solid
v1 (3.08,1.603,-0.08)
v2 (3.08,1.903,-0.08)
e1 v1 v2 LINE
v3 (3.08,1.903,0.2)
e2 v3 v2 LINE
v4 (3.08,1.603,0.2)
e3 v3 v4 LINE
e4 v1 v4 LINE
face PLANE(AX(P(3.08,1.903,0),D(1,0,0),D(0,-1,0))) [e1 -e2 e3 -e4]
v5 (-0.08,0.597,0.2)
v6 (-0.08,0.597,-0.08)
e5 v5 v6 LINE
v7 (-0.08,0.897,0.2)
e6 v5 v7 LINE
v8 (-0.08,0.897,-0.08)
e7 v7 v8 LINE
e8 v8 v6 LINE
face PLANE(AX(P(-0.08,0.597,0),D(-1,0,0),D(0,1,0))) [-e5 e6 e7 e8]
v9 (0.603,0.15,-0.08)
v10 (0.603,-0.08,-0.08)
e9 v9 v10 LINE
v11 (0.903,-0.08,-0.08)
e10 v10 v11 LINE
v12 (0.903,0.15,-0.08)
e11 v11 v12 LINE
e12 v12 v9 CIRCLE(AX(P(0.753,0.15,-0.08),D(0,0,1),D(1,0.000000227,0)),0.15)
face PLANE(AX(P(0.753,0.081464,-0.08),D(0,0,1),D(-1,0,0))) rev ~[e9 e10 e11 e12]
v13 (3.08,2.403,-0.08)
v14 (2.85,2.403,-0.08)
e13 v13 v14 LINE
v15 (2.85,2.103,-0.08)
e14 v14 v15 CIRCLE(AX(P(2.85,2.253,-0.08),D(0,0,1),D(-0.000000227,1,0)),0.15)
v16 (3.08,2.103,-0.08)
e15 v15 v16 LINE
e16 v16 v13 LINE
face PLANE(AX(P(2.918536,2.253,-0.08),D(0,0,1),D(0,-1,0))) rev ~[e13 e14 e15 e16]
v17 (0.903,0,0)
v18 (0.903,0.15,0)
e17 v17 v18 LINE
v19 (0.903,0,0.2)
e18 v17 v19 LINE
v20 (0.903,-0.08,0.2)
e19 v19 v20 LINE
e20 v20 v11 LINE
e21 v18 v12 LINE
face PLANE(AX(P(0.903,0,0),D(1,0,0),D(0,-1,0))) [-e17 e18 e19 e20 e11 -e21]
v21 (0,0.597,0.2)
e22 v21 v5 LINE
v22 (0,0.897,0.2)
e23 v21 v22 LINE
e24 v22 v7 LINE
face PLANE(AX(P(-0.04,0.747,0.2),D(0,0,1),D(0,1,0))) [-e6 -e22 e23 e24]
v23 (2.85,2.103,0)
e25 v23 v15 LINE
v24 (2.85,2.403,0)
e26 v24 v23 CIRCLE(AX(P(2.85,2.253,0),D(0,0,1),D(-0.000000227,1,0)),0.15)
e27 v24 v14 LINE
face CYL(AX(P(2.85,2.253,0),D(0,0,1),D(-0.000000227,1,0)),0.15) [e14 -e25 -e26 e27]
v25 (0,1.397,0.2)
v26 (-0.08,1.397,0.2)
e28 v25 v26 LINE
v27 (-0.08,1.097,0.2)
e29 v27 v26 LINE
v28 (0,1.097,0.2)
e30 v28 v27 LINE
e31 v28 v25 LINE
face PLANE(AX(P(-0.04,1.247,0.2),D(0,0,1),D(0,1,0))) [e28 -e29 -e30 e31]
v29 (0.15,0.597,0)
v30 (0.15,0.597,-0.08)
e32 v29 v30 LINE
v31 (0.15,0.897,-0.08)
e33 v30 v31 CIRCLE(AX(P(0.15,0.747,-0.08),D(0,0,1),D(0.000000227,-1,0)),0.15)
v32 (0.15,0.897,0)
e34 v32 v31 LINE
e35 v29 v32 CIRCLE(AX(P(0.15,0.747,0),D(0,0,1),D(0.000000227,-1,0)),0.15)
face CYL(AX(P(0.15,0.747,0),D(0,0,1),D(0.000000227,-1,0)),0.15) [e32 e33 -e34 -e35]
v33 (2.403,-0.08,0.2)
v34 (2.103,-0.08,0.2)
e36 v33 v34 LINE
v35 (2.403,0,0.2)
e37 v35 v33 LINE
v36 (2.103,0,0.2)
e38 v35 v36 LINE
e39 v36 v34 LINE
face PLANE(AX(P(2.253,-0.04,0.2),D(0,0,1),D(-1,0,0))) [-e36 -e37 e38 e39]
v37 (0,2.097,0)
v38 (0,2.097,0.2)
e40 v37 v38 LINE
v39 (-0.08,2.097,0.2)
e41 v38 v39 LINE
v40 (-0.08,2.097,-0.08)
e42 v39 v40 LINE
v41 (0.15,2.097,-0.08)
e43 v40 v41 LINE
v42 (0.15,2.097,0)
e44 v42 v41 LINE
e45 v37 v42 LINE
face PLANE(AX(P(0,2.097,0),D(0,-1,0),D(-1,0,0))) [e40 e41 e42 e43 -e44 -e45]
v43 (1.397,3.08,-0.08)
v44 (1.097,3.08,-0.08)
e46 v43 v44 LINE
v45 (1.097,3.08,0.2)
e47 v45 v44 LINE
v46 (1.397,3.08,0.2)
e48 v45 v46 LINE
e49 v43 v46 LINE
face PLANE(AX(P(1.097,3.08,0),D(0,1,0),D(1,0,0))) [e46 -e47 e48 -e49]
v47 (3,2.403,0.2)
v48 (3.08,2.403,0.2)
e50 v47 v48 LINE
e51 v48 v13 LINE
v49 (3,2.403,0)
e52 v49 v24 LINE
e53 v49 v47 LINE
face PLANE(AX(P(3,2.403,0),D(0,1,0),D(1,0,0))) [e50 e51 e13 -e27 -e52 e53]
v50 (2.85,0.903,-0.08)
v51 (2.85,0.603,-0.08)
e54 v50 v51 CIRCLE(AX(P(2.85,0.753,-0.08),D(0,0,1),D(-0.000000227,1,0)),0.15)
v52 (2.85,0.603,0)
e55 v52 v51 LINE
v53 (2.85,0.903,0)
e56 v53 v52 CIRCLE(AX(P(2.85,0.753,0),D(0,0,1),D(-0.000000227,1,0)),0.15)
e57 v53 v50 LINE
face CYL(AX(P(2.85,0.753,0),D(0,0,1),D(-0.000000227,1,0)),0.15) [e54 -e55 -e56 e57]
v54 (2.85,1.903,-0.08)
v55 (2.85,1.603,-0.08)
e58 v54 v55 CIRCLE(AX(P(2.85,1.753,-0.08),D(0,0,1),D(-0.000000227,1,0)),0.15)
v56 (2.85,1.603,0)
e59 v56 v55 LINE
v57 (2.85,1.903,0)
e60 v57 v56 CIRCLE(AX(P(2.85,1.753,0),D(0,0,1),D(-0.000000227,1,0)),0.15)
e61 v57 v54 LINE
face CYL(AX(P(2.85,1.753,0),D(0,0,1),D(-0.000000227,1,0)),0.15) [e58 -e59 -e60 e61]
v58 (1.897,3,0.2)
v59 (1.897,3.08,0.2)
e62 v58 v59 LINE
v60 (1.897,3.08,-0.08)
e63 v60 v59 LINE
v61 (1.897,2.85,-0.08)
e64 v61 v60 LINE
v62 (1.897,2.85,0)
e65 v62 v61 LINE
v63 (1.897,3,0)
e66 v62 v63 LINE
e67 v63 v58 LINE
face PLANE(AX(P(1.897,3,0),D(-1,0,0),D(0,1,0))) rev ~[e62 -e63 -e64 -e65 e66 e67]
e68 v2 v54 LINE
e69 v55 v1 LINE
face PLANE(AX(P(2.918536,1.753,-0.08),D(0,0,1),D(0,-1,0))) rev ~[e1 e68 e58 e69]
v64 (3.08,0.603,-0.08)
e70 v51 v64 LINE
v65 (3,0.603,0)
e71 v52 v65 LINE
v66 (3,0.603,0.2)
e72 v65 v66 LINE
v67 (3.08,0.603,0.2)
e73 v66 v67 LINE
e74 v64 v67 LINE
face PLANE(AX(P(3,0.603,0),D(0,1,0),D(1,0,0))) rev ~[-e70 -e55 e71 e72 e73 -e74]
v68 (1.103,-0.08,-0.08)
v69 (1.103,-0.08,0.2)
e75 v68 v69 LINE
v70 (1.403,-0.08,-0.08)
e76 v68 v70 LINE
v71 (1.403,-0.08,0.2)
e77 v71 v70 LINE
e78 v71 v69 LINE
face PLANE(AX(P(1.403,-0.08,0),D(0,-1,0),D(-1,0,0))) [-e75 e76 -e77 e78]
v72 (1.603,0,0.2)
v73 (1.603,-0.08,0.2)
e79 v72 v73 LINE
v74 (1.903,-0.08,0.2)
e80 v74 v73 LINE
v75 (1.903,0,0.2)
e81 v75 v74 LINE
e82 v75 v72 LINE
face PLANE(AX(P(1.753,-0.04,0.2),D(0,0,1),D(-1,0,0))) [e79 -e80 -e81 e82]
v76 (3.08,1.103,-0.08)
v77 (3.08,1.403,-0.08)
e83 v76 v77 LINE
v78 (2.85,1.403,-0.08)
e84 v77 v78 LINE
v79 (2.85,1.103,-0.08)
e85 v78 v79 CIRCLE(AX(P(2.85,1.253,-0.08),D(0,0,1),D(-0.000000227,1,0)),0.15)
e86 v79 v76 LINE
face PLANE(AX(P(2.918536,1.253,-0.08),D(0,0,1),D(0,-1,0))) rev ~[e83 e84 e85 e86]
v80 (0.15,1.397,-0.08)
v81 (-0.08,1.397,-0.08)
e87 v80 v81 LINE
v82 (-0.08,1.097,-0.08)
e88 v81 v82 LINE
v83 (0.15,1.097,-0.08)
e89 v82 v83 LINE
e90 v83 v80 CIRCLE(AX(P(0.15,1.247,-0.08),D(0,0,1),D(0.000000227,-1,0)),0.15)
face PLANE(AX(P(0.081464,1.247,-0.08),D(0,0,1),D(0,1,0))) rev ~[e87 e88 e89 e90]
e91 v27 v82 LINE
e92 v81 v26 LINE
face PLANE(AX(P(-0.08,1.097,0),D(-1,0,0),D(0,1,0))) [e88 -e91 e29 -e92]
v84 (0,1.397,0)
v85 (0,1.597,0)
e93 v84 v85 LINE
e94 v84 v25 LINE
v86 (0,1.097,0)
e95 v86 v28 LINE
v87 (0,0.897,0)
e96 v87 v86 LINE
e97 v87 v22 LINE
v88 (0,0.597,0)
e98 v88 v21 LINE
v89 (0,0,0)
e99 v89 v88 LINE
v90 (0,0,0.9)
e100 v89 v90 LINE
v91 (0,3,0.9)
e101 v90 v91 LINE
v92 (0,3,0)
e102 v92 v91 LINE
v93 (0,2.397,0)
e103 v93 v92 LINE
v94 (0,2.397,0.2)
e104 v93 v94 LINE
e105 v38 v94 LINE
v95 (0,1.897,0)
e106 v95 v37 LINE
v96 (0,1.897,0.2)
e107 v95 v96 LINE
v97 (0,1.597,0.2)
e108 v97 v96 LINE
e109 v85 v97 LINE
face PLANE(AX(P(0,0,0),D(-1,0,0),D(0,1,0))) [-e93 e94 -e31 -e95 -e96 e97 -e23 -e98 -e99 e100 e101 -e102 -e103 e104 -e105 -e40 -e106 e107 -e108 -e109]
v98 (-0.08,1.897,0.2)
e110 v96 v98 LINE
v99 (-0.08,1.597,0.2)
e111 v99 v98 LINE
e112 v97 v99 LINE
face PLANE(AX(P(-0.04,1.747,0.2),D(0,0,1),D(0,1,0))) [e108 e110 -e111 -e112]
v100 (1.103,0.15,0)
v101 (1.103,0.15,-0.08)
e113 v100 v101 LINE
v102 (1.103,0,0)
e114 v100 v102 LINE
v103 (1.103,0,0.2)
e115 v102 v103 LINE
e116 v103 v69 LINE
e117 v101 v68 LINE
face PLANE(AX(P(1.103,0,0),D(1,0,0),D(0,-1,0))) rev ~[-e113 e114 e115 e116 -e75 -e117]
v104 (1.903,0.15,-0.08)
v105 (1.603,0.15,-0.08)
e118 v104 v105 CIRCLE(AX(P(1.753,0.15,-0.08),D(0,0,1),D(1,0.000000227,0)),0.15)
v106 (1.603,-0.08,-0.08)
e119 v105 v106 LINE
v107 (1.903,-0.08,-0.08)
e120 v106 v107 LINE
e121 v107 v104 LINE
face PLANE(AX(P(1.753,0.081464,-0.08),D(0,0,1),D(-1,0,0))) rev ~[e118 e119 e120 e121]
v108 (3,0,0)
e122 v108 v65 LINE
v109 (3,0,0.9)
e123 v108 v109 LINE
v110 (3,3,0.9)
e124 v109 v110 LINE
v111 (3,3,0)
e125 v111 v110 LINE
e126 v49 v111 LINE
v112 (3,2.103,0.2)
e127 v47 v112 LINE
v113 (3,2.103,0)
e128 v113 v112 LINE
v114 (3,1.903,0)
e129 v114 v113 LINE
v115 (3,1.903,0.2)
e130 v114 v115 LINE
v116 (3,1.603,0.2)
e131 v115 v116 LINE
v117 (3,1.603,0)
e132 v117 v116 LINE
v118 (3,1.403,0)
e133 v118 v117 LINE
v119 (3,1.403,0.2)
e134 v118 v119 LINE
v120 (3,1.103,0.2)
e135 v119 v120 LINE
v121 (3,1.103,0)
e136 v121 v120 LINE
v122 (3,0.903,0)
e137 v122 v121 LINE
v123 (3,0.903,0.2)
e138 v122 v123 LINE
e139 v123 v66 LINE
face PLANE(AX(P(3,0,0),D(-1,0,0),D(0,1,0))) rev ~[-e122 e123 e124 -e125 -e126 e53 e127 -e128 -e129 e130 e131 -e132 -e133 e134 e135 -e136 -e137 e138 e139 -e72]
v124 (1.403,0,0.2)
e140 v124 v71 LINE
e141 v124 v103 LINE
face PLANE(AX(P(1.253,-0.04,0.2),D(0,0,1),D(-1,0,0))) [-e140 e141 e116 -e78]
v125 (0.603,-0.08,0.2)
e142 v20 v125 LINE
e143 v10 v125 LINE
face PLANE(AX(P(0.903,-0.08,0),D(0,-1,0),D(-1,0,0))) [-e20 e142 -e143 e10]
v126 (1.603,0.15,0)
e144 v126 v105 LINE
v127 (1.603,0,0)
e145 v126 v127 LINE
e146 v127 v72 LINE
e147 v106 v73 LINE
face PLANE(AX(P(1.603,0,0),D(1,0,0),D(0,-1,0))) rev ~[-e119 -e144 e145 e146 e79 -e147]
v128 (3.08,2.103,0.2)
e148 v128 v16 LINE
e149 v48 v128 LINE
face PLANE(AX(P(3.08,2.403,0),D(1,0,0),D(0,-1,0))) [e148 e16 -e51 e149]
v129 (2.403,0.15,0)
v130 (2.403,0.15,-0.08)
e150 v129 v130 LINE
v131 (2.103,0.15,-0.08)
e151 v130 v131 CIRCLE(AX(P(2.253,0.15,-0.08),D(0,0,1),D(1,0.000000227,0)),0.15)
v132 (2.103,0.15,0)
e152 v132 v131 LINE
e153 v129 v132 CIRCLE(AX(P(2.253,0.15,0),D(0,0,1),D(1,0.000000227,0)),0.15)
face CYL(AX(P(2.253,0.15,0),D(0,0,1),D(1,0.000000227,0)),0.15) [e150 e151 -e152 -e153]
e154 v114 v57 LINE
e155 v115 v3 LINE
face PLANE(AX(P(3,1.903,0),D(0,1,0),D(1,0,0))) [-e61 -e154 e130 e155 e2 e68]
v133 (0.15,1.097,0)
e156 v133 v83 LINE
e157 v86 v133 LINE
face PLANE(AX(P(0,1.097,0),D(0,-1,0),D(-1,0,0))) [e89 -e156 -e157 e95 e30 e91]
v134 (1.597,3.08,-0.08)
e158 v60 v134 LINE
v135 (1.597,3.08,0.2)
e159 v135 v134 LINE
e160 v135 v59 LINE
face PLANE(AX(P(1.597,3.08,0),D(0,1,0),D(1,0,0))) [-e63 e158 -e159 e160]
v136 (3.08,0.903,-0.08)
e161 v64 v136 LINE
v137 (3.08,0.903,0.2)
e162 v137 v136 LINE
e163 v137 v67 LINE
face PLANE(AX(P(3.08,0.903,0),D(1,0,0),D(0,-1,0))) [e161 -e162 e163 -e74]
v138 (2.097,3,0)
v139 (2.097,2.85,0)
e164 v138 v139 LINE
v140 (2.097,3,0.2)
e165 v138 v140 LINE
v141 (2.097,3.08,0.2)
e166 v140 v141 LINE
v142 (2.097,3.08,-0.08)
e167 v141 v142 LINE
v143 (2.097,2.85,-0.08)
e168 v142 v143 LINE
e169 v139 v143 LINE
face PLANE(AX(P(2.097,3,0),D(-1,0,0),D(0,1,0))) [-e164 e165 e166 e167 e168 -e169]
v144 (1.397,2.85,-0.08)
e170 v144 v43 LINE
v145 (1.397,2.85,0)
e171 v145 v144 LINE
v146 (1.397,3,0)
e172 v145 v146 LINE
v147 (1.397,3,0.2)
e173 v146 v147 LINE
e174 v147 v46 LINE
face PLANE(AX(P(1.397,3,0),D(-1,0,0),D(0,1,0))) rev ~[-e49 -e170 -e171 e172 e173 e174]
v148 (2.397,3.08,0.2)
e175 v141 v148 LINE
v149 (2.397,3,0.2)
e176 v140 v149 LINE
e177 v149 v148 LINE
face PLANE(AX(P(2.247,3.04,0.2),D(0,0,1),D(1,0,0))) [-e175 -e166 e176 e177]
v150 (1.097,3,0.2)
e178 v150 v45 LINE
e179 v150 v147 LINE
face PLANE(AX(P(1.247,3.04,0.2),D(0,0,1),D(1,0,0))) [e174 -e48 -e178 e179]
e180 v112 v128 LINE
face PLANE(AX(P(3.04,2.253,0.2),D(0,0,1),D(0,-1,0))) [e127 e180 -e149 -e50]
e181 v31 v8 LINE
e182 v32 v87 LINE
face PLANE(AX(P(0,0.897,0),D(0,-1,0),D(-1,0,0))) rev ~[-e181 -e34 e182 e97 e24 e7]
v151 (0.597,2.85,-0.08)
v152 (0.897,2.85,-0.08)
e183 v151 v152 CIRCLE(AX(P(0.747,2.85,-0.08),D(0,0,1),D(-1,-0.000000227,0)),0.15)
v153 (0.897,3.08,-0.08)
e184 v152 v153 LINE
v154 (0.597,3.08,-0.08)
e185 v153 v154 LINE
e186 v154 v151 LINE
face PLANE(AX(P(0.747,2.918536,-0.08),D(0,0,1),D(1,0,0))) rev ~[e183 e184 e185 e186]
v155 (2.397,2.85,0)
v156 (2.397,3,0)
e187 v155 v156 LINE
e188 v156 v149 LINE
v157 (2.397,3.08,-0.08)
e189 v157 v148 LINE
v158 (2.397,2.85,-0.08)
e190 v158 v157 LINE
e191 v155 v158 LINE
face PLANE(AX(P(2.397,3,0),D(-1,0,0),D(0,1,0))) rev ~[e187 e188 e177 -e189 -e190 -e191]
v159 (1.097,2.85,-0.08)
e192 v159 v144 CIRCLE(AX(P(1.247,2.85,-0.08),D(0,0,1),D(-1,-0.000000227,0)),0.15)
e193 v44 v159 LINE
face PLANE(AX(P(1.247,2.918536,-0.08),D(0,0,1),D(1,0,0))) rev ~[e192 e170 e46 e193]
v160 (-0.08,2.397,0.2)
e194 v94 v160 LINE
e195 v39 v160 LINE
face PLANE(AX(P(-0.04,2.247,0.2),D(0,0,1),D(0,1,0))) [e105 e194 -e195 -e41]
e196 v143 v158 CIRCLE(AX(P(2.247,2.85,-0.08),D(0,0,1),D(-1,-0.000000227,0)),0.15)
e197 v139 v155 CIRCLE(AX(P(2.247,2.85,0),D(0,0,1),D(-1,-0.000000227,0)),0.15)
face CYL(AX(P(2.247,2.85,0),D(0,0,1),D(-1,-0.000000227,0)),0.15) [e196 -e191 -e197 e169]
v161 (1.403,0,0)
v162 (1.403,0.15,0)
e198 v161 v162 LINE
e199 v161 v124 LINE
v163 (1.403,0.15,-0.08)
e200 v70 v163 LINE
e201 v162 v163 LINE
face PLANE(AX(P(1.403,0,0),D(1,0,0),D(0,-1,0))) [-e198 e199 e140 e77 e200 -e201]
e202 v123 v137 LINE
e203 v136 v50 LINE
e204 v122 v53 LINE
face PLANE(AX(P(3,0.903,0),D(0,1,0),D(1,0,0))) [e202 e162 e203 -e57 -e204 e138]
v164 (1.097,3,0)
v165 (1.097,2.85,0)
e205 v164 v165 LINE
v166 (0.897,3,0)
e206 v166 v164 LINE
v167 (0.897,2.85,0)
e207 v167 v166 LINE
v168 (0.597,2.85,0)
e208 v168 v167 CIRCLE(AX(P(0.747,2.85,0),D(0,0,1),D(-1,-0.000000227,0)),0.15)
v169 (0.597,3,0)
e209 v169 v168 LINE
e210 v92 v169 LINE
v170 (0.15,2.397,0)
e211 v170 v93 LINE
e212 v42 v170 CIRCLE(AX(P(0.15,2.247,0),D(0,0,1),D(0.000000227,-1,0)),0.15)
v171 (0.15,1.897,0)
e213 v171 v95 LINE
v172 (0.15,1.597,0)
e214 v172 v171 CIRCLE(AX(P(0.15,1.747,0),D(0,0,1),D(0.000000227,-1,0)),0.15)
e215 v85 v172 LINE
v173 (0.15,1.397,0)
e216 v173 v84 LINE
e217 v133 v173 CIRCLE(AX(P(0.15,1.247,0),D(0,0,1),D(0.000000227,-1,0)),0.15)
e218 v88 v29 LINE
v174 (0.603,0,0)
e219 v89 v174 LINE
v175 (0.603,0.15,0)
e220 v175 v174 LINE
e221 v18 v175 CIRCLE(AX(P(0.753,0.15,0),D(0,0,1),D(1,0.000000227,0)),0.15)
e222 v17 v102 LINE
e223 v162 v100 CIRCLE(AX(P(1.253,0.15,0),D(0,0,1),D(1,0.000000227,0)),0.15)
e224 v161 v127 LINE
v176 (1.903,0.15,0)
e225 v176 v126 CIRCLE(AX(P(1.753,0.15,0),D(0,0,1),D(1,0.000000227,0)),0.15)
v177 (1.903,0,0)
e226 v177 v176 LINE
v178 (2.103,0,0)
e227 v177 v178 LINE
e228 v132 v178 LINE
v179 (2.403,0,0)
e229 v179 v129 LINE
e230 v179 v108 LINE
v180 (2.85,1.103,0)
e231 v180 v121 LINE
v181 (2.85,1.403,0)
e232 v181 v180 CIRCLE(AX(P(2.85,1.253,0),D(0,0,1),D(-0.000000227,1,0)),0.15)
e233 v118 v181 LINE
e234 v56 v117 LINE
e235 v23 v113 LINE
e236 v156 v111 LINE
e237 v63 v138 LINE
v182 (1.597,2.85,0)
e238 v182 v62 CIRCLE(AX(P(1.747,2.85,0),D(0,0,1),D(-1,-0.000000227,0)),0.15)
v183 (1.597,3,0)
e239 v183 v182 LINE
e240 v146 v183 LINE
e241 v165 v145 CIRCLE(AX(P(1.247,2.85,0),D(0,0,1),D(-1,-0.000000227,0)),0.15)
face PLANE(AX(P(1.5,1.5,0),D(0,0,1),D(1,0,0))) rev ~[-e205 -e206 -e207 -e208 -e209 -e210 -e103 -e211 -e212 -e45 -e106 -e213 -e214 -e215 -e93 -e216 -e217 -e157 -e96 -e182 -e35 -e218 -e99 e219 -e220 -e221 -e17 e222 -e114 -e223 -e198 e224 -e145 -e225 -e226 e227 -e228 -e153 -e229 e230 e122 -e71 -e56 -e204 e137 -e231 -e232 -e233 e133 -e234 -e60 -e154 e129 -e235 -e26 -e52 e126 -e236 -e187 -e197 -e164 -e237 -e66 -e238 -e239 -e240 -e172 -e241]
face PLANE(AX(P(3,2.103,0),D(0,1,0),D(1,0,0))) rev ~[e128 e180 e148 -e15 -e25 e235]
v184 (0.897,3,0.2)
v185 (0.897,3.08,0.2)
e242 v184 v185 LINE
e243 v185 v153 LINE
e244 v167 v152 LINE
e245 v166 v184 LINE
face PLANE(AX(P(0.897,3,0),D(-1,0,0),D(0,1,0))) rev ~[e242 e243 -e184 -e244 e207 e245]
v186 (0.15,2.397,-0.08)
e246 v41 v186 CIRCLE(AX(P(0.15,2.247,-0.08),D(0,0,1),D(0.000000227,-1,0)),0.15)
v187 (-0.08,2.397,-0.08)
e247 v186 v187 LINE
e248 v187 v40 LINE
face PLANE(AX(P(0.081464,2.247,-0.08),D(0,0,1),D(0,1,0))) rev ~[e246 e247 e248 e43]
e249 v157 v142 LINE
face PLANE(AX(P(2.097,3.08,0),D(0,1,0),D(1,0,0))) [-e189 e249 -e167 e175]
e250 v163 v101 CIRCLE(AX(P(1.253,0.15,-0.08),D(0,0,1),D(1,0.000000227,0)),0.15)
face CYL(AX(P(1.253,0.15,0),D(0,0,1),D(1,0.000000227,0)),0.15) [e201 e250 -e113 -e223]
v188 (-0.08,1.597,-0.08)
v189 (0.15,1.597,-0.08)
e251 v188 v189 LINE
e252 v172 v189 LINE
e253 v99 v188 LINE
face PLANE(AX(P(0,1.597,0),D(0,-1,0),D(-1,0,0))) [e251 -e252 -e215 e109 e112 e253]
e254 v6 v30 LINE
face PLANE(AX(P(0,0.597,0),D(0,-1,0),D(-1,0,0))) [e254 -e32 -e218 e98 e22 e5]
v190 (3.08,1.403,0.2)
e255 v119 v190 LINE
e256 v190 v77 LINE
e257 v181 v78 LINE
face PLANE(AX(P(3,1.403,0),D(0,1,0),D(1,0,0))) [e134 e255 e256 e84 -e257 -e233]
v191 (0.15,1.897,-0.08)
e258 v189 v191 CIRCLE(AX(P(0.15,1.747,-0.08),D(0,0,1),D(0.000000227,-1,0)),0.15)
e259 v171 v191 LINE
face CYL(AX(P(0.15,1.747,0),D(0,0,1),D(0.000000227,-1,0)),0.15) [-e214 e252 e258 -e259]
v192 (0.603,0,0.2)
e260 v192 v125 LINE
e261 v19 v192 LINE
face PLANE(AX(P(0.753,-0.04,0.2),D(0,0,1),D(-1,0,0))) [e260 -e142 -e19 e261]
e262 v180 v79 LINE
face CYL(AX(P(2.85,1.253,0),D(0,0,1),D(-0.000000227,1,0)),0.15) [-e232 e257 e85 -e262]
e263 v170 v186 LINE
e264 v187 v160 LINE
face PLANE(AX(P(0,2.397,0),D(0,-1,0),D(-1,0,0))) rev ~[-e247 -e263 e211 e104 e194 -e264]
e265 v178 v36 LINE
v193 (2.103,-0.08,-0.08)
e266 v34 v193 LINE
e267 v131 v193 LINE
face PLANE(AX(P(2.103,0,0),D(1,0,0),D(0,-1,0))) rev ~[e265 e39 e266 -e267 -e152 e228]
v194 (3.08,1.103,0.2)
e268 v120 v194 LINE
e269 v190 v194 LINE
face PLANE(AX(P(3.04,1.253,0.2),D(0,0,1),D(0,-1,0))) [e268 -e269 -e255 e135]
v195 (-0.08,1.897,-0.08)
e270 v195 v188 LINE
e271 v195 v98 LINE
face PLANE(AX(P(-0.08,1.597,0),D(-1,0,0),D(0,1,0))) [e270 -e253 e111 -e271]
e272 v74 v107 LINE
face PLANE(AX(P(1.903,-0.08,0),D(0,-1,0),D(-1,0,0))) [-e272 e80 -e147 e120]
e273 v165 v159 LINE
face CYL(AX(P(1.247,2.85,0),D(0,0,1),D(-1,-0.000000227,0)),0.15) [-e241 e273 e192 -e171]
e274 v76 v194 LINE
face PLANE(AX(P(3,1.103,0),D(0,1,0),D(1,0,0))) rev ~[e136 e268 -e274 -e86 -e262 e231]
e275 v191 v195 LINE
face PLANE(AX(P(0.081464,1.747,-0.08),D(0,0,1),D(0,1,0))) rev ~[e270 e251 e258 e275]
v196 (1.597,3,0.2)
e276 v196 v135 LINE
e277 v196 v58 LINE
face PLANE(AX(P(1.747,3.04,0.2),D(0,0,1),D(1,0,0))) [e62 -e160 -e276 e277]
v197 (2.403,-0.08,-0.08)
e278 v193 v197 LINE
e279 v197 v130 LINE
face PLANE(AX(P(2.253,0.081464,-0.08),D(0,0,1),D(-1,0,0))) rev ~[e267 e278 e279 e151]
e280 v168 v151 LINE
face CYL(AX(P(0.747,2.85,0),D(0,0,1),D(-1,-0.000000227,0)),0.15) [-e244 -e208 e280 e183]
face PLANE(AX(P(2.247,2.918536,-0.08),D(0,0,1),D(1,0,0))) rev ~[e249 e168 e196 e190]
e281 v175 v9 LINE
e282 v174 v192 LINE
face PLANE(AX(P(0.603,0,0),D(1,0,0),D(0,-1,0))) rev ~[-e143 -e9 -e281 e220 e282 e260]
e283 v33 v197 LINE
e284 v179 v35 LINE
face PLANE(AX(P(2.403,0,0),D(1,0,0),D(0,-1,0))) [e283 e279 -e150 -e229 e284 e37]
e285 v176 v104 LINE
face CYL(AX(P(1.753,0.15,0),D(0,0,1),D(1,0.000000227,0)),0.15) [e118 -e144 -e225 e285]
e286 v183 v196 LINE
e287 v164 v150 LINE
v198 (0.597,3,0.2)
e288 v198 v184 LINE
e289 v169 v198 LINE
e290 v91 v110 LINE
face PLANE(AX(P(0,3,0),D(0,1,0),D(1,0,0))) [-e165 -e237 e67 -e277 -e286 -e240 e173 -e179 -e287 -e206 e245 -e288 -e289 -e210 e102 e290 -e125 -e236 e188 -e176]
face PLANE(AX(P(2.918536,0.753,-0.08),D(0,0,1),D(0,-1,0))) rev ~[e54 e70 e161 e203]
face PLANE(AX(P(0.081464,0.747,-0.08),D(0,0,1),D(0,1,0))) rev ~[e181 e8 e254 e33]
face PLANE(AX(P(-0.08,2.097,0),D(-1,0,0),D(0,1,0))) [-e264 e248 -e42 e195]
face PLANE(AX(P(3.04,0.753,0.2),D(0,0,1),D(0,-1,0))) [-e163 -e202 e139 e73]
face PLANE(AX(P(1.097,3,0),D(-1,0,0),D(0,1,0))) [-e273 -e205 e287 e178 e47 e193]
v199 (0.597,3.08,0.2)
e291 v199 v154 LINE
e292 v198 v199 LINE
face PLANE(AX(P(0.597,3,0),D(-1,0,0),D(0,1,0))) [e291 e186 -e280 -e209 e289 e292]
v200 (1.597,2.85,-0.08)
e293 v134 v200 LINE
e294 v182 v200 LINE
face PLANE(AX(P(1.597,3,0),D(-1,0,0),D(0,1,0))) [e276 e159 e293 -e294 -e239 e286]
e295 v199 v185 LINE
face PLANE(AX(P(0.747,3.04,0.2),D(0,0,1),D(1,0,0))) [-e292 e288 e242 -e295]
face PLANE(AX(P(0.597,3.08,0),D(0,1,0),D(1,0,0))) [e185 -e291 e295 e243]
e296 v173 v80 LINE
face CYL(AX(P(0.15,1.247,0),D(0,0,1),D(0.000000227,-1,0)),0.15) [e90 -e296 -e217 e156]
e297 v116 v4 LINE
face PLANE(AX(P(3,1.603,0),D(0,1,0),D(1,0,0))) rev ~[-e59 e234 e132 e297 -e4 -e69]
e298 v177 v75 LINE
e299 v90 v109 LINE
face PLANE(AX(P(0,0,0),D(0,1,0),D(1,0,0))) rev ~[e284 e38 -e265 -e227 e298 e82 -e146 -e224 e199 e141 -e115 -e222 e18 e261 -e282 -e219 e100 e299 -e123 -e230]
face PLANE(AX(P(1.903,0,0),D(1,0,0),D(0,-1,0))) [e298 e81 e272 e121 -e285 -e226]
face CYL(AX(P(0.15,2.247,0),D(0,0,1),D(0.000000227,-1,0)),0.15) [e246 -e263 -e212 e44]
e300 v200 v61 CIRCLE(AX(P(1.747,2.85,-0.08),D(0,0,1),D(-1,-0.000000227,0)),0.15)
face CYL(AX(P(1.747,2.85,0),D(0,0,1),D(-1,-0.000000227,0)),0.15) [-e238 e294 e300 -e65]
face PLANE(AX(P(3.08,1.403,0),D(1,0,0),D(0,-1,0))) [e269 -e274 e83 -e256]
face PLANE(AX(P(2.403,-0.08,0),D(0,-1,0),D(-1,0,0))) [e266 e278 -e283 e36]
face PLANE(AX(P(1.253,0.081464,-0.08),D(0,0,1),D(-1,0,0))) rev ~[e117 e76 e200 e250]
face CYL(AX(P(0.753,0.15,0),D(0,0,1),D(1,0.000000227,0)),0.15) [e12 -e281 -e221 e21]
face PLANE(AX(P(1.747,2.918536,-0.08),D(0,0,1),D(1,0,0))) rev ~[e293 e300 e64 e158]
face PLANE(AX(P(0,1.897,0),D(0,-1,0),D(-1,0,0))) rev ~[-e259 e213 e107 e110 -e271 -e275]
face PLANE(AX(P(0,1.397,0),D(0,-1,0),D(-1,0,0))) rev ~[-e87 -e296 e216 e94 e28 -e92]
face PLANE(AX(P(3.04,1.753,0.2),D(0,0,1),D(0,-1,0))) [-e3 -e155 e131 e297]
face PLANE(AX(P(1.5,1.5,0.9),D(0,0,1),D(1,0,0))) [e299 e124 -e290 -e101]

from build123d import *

# Parameters (mm, degrees)
SKETCH1_W             = 3
SKETCH1_H             = 3
BOSS_EXTRUDE1_DEPTH   = 0.9
BOSS_EXTRUDE2_DEPTH   = 0.08
BOSS_EXTRUDE2_2_DEPTH = 0.08
BOSS_EXTRUDE2_3_DEPTH = 0.08
BOSS_EXTRUDE2_4_DEPTH = 0.08
SKETCH3_W             = 0.3
SKETCH3_H             = 0.08
BOSS_EXTRUDE3_DEPTH   = 0.2
CIRPATTERN1_COUNT     = 4


with BuildPart() as part:
    # Sketch1 → Boss-Extrude1 (new body)
    with BuildSketch(Plane.XY):
        with Locations((1.5, 1.5)):
            Rectangle(SKETCH1_W, SKETCH1_H)
    extrude(amount=BOSS_EXTRUDE1_DEPTH)



with BuildPart() as body_2:
    # Sketch2 → Boss-Extrude2 (new body)
    with BuildSketch(Plane(origin=(0, 0, 0), x_dir=(-1, 0, 0), z_dir=(0, 0, -1))):
        with BuildLine():
            Line((-1.397, 3.08), (-1.097, 3.08))
            Line((-1.097, 3.08), (-1.097, 2.849999966))
            ThreePointArc((-1.097, 2.849999966), (-1.247, 2.7), (-1.397, 2.849999966))
            Line((-1.397, 2.849999966), (-1.397, 3.08))
        make_face()
    boss_extrude2 = extrude(amount=BOSS_EXTRUDE2_DEPTH)


with BuildPart() as body_3:
    # Sketch2 → Boss-Extrude2 2 (new body)
    with BuildSketch(Plane(origin=(0, 0, 0), x_dir=(-1, 0, 0), z_dir=(0, 0, -1))):
        with BuildLine():
            Line((-0.897, 3.08), (-0.597, 3.08))
            Line((-0.597, 3.08), (-0.597, 2.849999966))
            ThreePointArc((-0.597, 2.849999966), (-0.747, 2.7), (-0.897, 2.849999966))
            Line((-0.897, 2.849999966), (-0.897, 3.08))
        make_face()
    boss_extrude2_2 = extrude(amount=BOSS_EXTRUDE2_2_DEPTH)


with BuildPart() as body_4:
    # Sketch2 → Boss-Extrude2 3 (new body)
    with BuildSketch(Plane(origin=(0, 0, 0), x_dir=(-1, 0, 0), z_dir=(0, 0, -1))):
        with BuildLine():
            Line((-1.897, 3.08), (-1.597, 3.08))
            Line((-1.597, 3.08), (-1.597, 2.849999966))
            ThreePointArc((-1.597, 2.849999966), (-1.747, 2.7), (-1.897, 2.849999966))
            Line((-1.897, 2.849999966), (-1.897, 3.08))
        make_face()
    boss_extrude2_3 = extrude(amount=BOSS_EXTRUDE2_3_DEPTH)


with BuildPart() as body_5:
    # Sketch2 → Boss-Extrude2 4 (new body)
    with BuildSketch(Plane(origin=(0, 0, 0), x_dir=(-1, 0, 0), z_dir=(0, 0, -1))):
        with BuildLine():
            Line((-2.397, 3.08), (-2.097, 3.08))
            Line((-2.097, 3.08), (-2.097, 2.849999966))
            ThreePointArc((-2.097, 2.849999966), (-2.247, 2.7), (-2.397, 2.849999966))
            Line((-2.397, 2.849999966), (-2.397, 3.08))
        make_face()
    boss_extrude2_4 = extrude(amount=BOSS_EXTRUDE2_4_DEPTH)


with BuildPart() as part_1:
    add(part.part)

    add(body_2.part)  # Boss-Extrude3 merges body 2

    add(body_3.part)  # Boss-Extrude3 merges body 3

    add(body_4.part)  # Boss-Extrude3 merges body 4

    add(body_5.part)  # Boss-Extrude3 merges body 5
    # Sketch3 → Boss-Extrude3 (add)
    with BuildSketch(Plane.XY):
        with Locations((0.747, 3.04)):
            Rectangle(SKETCH3_W, SKETCH3_H)
        with Locations((1.247, 3.04)):
            Rectangle(SKETCH3_W, SKETCH3_H)
        with Locations((1.747, 3.04)):
            Rectangle(SKETCH3_W, SKETCH3_H)
        with Locations((2.247, 3.04)):
            Rectangle(SKETCH3_W, SKETCH3_H)
    boss_extrude3 = extrude(amount=BOSS_EXTRUDE3_DEPTH)

    # CirPattern1: Boss-Extrude2, Boss-Extrude2 2, Boss-Extrude2 3, Boss-Extrude2 4, Boss-Extrude3 ×4 about axis
    cirpattern1_axis = Axis((1.5, 1.5, -0.045), (0, 0, 1))
    add([boss_extrude2.rotate(cirpattern1_axis, i * 360 / CIRPATTERN1_COUNT) for i in range(1, CIRPATTERN1_COUNT)])
    add([boss_extrude2_2.rotate(cirpattern1_axis, i * 360 / CIRPATTERN1_COUNT) for i in range(1, CIRPATTERN1_COUNT)])
    add([boss_extrude2_3.rotate(cirpattern1_axis, i * 360 / CIRPATTERN1_COUNT) for i in range(1, CIRPATTERN1_COUNT)])
    add([boss_extrude2_4.rotate(cirpattern1_axis, i * 360 / CIRPATTERN1_COUNT) for i in range(1, CIRPATTERN1_COUNT)])
    add([boss_extrude3.rotate(cirpattern1_axis, i * 360 / CIRPATTERN1_COUNT) for i in range(1, CIRPATTERN1_COUNT)])


solid = part_1.part
